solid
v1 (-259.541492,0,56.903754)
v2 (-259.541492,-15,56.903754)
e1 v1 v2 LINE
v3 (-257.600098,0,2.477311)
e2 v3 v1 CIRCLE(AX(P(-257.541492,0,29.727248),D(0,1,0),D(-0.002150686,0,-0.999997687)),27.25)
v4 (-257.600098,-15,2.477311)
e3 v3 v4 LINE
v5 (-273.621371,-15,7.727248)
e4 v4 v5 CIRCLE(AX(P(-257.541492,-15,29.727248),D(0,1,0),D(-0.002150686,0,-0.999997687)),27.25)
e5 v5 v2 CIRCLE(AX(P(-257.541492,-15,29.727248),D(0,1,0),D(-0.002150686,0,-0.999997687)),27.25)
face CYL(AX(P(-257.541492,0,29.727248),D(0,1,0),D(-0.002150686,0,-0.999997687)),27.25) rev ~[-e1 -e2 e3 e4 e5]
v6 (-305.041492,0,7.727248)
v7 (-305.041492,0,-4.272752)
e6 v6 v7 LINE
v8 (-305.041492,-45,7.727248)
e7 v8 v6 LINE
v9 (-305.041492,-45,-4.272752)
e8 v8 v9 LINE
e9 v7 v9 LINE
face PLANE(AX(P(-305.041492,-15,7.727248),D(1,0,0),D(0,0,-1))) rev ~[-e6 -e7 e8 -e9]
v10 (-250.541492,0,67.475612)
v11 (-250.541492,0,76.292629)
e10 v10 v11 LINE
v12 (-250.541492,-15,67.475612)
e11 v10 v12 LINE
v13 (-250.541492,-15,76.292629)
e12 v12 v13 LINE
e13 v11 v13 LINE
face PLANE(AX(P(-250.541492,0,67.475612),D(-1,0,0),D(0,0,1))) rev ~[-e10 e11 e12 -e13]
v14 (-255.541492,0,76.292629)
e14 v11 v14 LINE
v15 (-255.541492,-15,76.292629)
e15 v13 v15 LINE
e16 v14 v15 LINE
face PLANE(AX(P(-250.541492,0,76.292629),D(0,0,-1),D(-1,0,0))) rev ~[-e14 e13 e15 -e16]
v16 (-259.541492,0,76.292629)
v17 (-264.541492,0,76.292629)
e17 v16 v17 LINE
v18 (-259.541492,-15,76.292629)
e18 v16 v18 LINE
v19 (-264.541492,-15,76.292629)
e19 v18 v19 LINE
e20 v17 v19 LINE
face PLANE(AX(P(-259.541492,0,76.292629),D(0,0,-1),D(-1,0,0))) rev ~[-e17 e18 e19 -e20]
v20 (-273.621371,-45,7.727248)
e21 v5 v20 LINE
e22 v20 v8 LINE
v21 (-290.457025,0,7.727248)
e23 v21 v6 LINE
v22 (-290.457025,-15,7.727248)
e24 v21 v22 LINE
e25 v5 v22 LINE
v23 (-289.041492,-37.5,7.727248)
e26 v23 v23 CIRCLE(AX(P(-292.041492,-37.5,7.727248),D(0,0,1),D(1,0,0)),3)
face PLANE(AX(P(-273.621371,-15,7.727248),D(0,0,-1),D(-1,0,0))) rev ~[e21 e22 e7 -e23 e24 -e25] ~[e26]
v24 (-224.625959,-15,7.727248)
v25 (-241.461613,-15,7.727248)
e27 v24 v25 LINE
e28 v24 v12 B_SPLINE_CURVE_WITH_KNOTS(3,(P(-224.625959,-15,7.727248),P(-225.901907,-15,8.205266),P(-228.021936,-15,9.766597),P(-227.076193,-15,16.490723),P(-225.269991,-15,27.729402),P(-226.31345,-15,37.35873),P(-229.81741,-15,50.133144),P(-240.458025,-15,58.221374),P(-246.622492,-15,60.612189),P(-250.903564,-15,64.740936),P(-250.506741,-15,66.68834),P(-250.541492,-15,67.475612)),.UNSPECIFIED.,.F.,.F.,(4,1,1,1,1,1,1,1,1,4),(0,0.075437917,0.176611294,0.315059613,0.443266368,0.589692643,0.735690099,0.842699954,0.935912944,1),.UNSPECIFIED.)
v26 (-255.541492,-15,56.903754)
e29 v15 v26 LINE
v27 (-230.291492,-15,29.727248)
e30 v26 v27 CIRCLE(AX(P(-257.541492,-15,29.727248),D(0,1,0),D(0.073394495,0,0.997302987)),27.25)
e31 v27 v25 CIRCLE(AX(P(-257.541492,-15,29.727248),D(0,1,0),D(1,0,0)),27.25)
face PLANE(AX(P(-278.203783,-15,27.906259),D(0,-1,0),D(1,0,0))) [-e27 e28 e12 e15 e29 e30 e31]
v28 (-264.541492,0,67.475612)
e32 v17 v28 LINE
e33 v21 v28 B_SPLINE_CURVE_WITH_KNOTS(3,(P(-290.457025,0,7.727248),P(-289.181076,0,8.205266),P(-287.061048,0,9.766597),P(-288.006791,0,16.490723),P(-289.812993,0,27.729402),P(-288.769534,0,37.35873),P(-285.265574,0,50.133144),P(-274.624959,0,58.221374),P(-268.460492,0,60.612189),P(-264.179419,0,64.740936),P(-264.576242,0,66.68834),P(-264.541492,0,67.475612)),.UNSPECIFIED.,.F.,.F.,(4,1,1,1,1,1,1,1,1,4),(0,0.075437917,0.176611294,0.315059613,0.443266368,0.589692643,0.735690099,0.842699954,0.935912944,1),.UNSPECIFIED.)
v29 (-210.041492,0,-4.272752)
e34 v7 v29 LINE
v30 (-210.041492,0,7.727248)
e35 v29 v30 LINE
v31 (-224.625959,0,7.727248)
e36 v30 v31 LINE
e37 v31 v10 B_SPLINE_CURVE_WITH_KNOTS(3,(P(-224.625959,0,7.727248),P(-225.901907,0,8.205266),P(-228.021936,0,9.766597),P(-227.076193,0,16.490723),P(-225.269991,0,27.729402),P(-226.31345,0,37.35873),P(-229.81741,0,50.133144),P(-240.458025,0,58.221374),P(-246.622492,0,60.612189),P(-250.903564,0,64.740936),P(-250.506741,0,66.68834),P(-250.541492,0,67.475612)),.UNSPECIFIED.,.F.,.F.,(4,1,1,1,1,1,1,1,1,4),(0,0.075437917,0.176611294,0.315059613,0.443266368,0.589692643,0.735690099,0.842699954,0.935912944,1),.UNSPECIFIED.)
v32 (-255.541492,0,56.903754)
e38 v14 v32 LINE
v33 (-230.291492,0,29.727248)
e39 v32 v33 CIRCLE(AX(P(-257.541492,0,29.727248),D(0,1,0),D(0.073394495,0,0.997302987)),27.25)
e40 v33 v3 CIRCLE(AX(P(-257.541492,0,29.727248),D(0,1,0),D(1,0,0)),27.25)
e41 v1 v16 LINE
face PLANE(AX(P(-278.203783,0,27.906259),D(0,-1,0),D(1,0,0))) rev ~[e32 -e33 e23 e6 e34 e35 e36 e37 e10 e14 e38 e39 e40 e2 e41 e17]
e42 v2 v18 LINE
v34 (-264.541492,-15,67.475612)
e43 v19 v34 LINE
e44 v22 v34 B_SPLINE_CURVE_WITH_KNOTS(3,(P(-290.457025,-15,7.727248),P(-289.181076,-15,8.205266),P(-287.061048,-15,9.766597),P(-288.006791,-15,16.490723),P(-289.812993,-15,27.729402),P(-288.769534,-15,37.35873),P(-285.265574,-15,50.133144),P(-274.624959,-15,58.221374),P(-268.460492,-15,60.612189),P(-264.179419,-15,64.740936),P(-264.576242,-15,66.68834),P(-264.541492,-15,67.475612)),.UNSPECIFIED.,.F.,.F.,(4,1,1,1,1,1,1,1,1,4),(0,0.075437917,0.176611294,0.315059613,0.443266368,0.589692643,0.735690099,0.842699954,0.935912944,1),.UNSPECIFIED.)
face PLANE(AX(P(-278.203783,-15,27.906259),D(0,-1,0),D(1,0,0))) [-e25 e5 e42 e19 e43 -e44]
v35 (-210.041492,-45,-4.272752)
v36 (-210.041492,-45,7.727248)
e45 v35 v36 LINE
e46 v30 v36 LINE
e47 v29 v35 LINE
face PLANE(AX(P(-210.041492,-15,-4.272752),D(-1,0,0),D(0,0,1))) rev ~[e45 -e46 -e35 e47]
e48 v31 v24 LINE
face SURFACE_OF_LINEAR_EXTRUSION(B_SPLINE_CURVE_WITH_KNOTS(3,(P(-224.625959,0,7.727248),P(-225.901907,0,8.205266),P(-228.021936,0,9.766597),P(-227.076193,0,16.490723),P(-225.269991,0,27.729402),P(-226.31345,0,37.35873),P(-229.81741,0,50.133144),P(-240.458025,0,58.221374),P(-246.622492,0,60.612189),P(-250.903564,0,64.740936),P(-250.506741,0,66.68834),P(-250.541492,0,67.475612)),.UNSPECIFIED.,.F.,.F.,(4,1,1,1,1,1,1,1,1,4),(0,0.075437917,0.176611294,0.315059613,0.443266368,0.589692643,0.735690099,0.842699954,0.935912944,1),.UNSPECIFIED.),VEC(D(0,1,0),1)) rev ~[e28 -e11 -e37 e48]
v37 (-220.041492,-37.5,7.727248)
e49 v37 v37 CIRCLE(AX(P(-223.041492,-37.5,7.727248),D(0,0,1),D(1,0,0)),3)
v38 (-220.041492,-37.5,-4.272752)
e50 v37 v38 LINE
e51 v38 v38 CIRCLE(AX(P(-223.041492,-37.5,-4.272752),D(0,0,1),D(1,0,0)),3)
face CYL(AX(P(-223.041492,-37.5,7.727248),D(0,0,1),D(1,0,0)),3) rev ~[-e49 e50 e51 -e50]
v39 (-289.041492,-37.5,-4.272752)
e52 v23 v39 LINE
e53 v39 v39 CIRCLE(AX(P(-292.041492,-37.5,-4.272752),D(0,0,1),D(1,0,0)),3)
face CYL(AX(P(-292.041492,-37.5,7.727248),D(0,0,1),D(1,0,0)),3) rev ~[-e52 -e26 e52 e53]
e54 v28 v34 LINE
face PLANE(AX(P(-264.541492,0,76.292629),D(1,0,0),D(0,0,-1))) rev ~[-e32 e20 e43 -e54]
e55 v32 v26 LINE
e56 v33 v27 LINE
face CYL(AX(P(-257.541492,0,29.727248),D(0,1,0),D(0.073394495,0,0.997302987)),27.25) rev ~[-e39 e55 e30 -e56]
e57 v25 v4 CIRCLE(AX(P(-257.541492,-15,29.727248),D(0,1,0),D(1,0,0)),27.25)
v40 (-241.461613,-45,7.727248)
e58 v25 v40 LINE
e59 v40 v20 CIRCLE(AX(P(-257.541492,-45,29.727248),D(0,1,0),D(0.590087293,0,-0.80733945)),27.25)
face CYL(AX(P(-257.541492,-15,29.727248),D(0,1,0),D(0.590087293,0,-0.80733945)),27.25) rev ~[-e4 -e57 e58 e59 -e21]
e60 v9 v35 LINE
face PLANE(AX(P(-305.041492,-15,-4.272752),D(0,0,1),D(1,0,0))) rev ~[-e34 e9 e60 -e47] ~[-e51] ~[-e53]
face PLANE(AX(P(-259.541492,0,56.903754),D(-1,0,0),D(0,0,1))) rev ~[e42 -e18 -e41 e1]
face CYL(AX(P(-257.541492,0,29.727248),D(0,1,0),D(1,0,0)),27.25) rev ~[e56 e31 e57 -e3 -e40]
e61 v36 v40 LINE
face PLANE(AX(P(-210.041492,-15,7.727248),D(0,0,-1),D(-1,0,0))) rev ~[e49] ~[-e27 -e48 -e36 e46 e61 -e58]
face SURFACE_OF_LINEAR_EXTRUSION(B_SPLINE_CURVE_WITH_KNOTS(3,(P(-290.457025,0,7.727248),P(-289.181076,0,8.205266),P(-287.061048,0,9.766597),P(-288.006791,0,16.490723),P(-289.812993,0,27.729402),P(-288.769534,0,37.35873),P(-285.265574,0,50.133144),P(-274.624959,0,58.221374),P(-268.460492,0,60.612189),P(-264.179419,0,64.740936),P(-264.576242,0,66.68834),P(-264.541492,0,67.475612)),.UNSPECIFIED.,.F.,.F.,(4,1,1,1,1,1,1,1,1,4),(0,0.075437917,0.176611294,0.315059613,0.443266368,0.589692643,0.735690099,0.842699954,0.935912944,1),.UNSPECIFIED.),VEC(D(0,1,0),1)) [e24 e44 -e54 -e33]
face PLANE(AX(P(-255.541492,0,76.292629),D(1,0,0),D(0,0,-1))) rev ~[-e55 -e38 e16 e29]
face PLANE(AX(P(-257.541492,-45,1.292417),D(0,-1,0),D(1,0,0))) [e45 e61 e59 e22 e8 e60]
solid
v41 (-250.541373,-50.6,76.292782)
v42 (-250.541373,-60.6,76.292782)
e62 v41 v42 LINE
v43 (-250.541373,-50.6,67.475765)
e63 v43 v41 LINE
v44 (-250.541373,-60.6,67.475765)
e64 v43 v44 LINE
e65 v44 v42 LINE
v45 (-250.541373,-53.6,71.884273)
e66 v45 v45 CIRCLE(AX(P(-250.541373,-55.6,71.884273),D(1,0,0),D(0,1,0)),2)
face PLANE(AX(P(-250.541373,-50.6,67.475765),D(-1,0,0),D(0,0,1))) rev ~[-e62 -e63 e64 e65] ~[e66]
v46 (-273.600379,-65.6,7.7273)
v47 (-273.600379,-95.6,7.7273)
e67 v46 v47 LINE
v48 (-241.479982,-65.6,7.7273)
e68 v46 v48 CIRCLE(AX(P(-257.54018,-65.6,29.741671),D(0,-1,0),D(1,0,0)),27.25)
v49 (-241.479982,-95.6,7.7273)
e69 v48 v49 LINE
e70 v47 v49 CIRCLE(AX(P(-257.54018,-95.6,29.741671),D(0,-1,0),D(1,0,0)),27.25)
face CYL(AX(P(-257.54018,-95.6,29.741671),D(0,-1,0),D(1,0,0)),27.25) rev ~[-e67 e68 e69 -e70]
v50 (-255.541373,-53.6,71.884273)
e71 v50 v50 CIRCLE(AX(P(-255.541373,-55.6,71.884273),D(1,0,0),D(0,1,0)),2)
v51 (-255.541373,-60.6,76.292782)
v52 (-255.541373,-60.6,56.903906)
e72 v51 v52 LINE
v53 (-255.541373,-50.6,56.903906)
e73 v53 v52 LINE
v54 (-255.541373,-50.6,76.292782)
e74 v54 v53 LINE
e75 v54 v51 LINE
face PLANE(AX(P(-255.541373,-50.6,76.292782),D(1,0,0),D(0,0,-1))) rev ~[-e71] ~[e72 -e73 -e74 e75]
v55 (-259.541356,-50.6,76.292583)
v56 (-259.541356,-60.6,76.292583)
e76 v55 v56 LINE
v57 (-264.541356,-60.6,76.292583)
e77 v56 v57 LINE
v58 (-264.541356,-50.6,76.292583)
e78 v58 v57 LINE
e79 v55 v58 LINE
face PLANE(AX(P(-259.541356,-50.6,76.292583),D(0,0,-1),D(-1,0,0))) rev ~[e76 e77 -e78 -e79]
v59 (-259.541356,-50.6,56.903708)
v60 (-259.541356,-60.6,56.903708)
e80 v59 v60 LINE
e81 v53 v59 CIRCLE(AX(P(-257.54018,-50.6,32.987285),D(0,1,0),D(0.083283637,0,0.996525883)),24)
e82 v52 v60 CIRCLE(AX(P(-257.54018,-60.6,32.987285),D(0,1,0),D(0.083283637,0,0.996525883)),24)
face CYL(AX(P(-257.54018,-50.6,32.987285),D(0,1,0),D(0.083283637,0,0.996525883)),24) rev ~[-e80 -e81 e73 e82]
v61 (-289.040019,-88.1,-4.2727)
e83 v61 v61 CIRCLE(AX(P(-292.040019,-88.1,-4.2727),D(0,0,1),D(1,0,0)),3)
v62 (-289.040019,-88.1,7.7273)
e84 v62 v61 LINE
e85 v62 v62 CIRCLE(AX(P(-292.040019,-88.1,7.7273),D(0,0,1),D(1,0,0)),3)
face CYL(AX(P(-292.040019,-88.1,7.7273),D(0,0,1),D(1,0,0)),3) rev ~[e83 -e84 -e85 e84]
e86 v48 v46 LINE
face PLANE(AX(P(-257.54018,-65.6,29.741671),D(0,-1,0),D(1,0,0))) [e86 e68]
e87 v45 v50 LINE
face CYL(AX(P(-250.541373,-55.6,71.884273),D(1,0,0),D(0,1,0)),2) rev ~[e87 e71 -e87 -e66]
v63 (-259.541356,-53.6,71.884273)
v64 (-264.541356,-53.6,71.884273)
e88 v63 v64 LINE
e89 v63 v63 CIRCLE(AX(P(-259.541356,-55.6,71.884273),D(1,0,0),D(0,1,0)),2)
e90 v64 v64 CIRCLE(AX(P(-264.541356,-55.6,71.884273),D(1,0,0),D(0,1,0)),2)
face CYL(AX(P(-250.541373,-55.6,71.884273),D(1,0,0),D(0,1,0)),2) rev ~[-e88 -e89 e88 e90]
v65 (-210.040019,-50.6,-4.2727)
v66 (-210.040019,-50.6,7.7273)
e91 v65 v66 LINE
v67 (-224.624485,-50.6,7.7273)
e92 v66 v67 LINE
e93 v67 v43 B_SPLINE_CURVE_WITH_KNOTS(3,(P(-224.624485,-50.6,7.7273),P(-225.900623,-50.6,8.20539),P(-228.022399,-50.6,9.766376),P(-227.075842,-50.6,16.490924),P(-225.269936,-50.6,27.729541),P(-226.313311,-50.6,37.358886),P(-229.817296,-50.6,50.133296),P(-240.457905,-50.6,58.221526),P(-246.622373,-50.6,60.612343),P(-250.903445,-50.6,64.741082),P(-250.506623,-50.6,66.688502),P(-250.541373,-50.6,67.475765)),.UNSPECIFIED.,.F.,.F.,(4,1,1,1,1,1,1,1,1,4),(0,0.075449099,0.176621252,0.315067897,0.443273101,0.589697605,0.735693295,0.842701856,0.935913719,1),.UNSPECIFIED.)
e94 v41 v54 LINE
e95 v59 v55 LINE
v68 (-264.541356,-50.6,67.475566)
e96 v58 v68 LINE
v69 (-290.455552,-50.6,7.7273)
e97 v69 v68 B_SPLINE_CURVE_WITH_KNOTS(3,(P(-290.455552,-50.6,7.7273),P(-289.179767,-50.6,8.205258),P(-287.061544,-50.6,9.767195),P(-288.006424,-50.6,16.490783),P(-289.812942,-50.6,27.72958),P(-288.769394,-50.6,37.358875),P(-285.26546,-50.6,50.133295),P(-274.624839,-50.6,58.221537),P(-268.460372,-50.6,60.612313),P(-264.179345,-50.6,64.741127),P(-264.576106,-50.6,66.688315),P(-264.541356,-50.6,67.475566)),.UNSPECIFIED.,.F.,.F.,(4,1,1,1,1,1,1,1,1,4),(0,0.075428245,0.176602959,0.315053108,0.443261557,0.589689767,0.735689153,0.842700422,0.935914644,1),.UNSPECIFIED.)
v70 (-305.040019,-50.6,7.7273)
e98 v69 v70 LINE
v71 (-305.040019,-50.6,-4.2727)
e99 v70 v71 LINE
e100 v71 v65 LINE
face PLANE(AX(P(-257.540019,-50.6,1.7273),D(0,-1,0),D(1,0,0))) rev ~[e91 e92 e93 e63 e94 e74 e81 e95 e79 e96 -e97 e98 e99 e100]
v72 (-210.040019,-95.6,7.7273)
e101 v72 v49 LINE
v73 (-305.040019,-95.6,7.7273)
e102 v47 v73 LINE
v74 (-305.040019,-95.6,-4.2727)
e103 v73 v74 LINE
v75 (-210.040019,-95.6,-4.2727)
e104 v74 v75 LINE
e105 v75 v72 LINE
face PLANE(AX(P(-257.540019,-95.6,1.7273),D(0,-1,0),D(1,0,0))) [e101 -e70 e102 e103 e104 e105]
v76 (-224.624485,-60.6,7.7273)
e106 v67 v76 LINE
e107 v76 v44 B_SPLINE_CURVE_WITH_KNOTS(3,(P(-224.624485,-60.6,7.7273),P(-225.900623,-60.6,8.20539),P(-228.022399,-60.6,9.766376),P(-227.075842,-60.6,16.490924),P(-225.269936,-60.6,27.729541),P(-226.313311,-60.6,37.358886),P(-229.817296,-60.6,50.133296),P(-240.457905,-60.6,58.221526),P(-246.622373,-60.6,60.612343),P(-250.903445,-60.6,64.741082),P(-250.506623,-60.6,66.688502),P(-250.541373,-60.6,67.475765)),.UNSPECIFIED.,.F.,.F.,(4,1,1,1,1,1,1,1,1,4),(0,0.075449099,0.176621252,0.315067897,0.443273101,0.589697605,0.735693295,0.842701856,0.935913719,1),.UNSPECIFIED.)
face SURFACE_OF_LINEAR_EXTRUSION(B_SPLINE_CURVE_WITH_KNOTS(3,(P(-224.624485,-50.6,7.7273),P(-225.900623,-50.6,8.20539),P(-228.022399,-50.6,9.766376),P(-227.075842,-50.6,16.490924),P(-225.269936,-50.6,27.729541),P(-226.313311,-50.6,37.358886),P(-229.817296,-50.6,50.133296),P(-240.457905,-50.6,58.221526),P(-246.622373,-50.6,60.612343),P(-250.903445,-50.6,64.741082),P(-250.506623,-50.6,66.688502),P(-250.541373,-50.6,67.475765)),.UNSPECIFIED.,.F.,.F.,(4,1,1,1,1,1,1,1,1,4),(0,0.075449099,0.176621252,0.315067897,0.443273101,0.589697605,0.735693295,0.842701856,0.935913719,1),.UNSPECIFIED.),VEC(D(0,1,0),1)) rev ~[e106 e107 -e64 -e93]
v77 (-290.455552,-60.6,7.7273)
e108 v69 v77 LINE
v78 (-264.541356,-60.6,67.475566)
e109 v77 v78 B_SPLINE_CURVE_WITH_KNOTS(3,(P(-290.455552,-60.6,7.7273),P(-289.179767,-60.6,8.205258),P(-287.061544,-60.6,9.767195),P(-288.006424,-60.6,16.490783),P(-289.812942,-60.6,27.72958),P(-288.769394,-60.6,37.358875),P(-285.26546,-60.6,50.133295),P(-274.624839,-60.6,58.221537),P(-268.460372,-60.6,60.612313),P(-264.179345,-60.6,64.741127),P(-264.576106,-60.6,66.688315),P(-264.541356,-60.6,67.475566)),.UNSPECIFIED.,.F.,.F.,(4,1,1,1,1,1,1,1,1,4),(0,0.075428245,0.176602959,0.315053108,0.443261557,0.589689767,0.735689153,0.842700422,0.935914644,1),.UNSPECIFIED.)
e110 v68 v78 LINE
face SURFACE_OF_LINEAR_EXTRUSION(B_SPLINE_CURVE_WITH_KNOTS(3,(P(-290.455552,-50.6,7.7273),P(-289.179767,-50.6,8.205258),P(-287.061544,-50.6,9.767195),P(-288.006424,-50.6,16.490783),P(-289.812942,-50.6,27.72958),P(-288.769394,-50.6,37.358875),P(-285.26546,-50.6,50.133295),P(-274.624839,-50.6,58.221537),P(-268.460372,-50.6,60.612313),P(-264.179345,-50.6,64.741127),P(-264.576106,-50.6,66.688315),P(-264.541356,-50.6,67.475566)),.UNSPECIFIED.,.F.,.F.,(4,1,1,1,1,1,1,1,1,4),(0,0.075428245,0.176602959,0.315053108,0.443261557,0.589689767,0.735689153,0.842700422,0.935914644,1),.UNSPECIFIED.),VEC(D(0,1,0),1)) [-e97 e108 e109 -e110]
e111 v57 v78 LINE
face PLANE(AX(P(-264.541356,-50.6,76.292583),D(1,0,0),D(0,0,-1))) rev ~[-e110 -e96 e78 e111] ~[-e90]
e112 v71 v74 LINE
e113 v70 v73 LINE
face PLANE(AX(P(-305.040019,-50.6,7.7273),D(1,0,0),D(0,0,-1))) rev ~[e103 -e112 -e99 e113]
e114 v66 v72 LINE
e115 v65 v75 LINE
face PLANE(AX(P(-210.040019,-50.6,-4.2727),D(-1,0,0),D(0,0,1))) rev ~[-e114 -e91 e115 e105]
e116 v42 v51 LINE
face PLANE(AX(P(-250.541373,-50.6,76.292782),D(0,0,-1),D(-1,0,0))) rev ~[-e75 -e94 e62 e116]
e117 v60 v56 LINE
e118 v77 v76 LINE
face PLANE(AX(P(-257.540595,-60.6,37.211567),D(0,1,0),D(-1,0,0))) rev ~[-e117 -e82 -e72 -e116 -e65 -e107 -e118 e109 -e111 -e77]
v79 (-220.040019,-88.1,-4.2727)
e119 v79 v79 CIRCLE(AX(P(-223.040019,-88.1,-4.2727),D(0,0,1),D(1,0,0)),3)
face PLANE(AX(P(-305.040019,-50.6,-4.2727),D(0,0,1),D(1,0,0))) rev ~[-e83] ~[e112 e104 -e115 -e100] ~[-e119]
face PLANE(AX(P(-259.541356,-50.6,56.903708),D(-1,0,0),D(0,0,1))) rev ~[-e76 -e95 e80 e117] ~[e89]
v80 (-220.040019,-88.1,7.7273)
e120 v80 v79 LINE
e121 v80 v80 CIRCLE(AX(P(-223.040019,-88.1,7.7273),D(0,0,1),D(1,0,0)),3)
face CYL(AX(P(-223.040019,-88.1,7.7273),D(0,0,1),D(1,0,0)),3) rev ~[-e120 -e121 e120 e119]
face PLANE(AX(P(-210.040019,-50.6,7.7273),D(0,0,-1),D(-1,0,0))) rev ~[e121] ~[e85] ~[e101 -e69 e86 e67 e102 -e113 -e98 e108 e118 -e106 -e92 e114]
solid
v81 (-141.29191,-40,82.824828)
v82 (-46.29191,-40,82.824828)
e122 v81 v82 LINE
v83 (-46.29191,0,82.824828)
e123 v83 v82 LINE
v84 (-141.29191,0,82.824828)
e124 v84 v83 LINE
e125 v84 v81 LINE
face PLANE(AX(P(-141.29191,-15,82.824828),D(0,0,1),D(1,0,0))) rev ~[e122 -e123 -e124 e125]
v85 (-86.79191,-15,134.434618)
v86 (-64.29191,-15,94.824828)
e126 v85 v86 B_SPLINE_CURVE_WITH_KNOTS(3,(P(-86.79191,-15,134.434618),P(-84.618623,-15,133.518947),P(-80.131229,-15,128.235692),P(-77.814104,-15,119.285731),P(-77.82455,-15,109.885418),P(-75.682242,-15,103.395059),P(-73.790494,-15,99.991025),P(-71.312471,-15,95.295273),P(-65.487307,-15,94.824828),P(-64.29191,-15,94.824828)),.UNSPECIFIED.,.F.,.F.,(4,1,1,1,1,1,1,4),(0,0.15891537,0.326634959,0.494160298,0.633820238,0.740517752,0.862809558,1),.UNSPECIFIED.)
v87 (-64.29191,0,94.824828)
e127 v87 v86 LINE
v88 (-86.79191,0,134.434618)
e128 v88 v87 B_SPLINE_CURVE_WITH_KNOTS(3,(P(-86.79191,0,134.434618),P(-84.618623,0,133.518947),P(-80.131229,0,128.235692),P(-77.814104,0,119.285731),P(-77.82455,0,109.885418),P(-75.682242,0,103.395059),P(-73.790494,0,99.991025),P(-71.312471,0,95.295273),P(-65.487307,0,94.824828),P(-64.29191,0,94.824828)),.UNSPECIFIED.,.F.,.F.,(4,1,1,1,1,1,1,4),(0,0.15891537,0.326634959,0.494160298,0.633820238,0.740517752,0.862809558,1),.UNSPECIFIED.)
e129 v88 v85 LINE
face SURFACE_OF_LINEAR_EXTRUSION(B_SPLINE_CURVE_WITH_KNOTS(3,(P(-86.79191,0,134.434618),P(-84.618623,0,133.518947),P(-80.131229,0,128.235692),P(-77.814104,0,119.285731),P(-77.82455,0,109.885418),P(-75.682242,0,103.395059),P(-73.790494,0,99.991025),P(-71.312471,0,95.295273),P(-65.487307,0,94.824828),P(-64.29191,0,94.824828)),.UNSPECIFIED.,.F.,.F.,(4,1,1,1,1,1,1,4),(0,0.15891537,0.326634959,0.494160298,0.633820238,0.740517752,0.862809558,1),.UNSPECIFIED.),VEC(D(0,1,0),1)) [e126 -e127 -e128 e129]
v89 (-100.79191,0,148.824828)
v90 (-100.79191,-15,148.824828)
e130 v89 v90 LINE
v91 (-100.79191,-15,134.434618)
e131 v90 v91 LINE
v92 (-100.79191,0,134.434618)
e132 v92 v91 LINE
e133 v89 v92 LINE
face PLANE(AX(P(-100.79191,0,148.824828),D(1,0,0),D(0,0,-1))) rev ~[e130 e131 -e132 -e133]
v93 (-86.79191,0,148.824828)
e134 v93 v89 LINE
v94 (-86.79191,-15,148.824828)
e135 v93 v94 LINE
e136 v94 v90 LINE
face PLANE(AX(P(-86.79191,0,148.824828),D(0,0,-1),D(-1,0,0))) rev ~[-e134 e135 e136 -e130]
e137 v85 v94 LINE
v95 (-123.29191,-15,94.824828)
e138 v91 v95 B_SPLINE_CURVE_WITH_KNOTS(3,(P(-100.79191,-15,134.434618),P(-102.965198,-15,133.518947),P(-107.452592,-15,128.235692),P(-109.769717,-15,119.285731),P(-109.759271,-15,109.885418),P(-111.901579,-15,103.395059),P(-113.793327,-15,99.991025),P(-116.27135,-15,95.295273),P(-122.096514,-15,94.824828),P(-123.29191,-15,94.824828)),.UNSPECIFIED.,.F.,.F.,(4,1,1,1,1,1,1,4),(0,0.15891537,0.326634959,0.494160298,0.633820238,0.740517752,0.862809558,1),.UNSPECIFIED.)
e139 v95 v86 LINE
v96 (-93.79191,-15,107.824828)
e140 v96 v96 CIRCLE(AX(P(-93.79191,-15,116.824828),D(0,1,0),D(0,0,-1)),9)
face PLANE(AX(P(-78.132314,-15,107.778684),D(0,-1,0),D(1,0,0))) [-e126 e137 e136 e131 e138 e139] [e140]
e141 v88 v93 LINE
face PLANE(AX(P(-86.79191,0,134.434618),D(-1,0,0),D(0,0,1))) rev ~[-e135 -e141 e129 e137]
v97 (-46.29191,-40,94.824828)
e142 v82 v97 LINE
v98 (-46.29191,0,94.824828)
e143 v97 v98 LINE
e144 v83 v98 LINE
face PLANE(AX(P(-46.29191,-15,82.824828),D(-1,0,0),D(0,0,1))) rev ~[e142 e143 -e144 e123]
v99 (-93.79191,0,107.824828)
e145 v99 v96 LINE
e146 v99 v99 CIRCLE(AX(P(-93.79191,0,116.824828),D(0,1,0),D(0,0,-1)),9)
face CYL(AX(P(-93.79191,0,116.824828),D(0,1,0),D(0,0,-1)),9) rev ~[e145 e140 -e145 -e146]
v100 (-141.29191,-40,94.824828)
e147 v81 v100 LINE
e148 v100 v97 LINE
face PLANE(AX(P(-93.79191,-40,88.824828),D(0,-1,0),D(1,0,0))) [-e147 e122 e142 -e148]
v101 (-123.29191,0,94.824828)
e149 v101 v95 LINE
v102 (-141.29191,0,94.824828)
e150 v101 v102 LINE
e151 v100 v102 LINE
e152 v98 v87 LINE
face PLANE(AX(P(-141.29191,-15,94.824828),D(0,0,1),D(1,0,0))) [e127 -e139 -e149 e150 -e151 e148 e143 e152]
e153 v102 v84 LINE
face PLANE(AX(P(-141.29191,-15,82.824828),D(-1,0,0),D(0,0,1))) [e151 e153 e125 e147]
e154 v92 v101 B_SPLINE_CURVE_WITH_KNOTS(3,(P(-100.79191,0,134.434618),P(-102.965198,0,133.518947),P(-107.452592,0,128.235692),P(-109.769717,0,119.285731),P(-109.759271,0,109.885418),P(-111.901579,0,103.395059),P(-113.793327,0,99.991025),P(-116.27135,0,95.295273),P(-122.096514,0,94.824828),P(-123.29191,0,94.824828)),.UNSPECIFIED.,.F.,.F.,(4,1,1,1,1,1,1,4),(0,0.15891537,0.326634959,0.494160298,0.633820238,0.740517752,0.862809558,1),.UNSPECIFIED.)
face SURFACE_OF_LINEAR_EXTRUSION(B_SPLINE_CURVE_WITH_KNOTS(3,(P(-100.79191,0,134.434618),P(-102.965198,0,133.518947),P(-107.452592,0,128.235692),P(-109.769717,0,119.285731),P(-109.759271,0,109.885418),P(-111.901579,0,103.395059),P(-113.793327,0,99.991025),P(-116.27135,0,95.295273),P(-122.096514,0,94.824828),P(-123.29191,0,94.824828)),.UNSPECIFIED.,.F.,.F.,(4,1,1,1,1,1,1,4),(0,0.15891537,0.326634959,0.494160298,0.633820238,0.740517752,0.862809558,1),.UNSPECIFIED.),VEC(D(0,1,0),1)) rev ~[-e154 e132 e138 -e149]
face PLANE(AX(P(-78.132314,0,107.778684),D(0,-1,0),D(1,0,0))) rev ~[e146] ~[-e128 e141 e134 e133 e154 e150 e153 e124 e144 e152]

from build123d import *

# Parameters (mm, degrees)
F1_DEPTH  = 15
F2_W      = 95
F2_H      = 12
F3_DEPTH  = 25
F5_DEPTH  = 30
F6_R      = 3
F7_DEPTH  = 25
F10_DEPTH = 10
F11_DEPTH = 45
F12_R     = 3
F13_DEPTH = 25
F14_R     = 2
F15_DEPTH = 25
F16_R     = 27.25
F17_DEPTH = 30


with BuildPart() as f1:
    # F0 (on Front) → F1 (new body)
    with BuildSketch(Plane.XZ):
        with BuildLine():
            Line((-86.7919104606, 148.8248279665), (-93.7919104606, 148.8248279665))
            Line((-93.7919104606, 148.8248279665), (-93.7919104606, 125.8248279665))
            ThreePointArc((-93.7919104606, 125.8248279665), (-84.7919104606, 116.8248279665), (-93.7919104606, 107.8248279665))
            Line((-93.7919104606, 107.8248279665), (-93.7919104606, 82.8248279665))
            Line((-93.7919104606, 82.8248279665), (-46.2919104606, 82.8248279665))
            Line((-46.2919104606, 82.8248279665), (-46.2919104606, 94.8248279665))
            Line((-46.2919104606, 94.8248279665), (-64.2919104606, 94.8248279665))
            add(Edge.make_bspline(
                [(-86.7919104606, 134.4346182567), (-84.6186229965, 133.5189465859), (-80.1312288241, 128.2356920468), (-77.8141041543, 119.2857314457), (-77.824550096, 109.8854181171), (-75.6822417412, 103.3950594754), (-73.7904940331, 99.9910254255), (-71.3124707915, 95.2952731617), (-65.4873071613, 94.8248279665), (-64.2919104606, 94.8248279665)],
                knots=[0, 0, 0, 0, 0.1589153696, 0.3266349591, 0.4941602985, 0.6338202377, 0.7405177517, 0.8628095578, 1, 1, 1, 1], degree=3))
            Line((-86.7919104606, 134.4346182567), (-86.7919104606, 148.8248279665))
        make_face()
        with BuildLine():
            Line((-93.7919104606, 125.8248279665), (-93.7919104606, 148.8248279665))
            Line((-93.7919104606, 148.8248279665), (-100.7919104606, 148.8248279665))
            Line((-100.7919104606, 148.8248279665), (-100.7919104606, 134.4346182567))
            add(Edge.make_bspline(
                [(-100.7919104606, 134.4346182567), (-102.9651979248, 133.5189465859), (-107.4525920971, 128.2356920468), (-109.7697167669, 119.2857314457), (-109.7592708252, 109.8854181171), (-111.90157918, 103.3950594754), (-113.7933268881, 99.9910254255), (-116.2713501297, 95.2952731617), (-122.09651376, 94.8248279665), (-123.2919104606, 94.8248279665)],
                knots=[0, 0, 0, 0, 0.1589153696, 0.3266349591, 0.4941602985, 0.6338202377, 0.7405177517, 0.8628095578, 1, 1, 1, 1], degree=3))
            Line((-123.2919104606, 94.8248279665), (-141.2919104606, 94.8248279665))
            Line((-141.2919104606, 94.8248279665), (-141.2919104606, 82.8248279665))
            Line((-141.2919104606, 82.8248279665), (-93.7919104606, 82.8248279665))
            Line((-93.7919104606, 82.8248279665), (-93.7919104606, 107.8248279665))
            ThreePointArc((-93.7919104606, 107.8248279665), (-102.7919104606, 116.8248279665), (-93.7919104606, 125.8248279665))
        make_face()
    extrude(amount=F1_DEPTH)

    # F2 (on face) → F3 (join)
    with BuildSketch(Plane.XZ.offset(15)):
        with Locations((-93.7919104606, 88.8248279665)):
            Rectangle(F2_W, F2_H)
    extrude(amount=F3_DEPTH)


with BuildPart() as f1b:
    # F0 (on Front) → F1, piece 2 (new body)
    with BuildSketch(Plane.XZ):
        with BuildLine():
            Line((-257.6000979949, -4.2727524898), (-257.6000979949, 2.477310532))
            ThreePointArc((-257.6000979949, 2.477310532), (-284.7741725177, 28.7558565069), (-259.5414917918, 56.9037539082))
            Line((-259.5414917918, 56.9037539082), (-259.5414917918, 76.2926292618))
            Line((-259.5414917918, 76.2926292618), (-264.5414917918, 76.2926292618))
            Line((-264.5414917918, 76.2926292618), (-264.5414917918, 67.4756121834))
            add(Edge.make_bspline(
                [(-290.4570249768, 7.7272475102), (-289.1810761401, 8.2052664847), (-287.0610478005, 9.7665971379), (-288.0067907257, 16.4907230197), (-289.8129929509, 27.7294023947), (-288.7695339108, 37.3587296696), (-285.2655736169, 50.133144334), (-274.6249586166, 58.2213743066), (-268.4604919275, 60.6121886454), (-264.1794193992, 64.7409361805), (-264.5762423932, 66.6883398304), (-264.5414917918, 67.4756121834)],
                knots=[0, 0, 0, 0, 0.0754379169, 0.1766112941, 0.3150596134, 0.4432663677, 0.5896926426, 0.7356900989, 0.8426999539, 0.935912944, 1, 1, 1, 1], degree=3))
            Line((-290.4570249768, 7.7272475102), (-305.0414917918, 7.7272475102))
            Line((-305.0414917918, 7.7272475102), (-305.0414917918, -4.2727524898))
            Line((-305.0414917918, -4.2727524898), (-257.6000979949, -4.2727524898))
        make_face()
        with BuildLine():
            ThreePointArc((-255.5414917918, 56.9037539082), (-237.5782443105, 48.2753269256), (-230.2914917918, 29.7272475102))
            ThreePointArc((-230.2914917918, 29.7272475102), (-238.2935635791, 10.4378784299), (-257.6000979949, 2.477310532))
            Line((-257.6000979949, 2.477310532), (-257.6000979949, -4.2727524898))
            Line((-257.6000979949, -4.2727524898), (-257.4828855888, -4.2727524898))
            Line((-257.4828855888, -4.2727524898), (-210.0414917918, -4.2727524898))
            Line((-210.0414917918, -4.2727524898), (-210.0414917918, 7.7272475102))
            Line((-210.0414917918, 7.7272475102), (-224.6259586068, 7.7272475102))
            add(Edge.make_bspline(
                [(-224.6259586068, 7.7272475102), (-225.9019074436, 8.2052664847), (-228.0219357831, 9.7665971379), (-227.076192858, 16.4907230197), (-225.2699906328, 27.7294023947), (-226.3134496728, 37.3587296696), (-229.8174099667, 50.133144334), (-240.458024967, 58.2213743066), (-246.6224916561, 60.6121886454), (-250.9035641845, 64.7409361805), (-250.5067411904, 66.6883398304), (-250.5414917918, 67.4756121834)],
                knots=[0, 0, 0, 0, 0.0754379169, 0.1766112941, 0.3150596134, 0.4432663677, 0.5896926426, 0.7356900989, 0.8426999539, 0.935912944, 1, 1, 1, 1], degree=3))
            Line((-250.5414917918, 67.4756121834), (-250.5414917918, 76.2926292618))
            Line((-250.5414917918, 76.2926292618), (-255.5414917918, 76.2926292618))
            Line((-255.5414917918, 76.2926292618), (-255.5414917918, 56.9037539082))
        make_face()
    extrude(amount=F1_DEPTH)

    # F4 (on face) → F5 (join)
    with BuildSketch(Plane.XZ.offset(15)):
        with BuildLine():
            Line((-305.0414917918, 7.7272475102), (-305.0414917918, -4.2727524898))
            Line((-305.0414917918, -4.2727524898), (-210.0414917918, -4.2727524898))
            Line((-210.0414917918, -4.2727524898), (-210.0414917918, 7.7272475102))
            Line((-210.0414917918, 7.7272475102), (-224.6259586068, 7.7272475102))
            Line((-224.6259586068, 7.7272475102), (-241.4616130609, 7.7272475102))
            ThreePointArc((-241.4616130609, 7.7272475102), (-257.5414917918, 2.4772475102), (-273.6213705227, 7.7272475102))
            Line((-273.6213705227, 7.7272475102), (-290.4570249768, 7.7272475102))
            Line((-290.4570249768, 7.7272475102), (-305.0414917918, 7.7272475102))
        make_face()
    extrude(amount=F5_DEPTH)

    # F6 (on face) → F7 (cut)
    with BuildSketch(Plane.XY.offset(7.7272475102)):
        with Locations((-292.0414917918, -37.5)):
            Circle(F6_R)
        with Locations((-223.0414917918, -37.5)):
            Circle(F6_R)
    extrude(amount=-F7_DEPTH, mode=Mode.SUBTRACT)


with BuildPart() as f10:
    # F9 (on offset) → F10 (new body)
    with BuildSketch(Plane.XZ.offset(50.6)):
        with BuildLine():
            add(Edge.make_bspline(
                [(-290.455551815, 7.7273002081), (-289.1797665747, 8.2052578931), (-287.0615437343, 9.7671952257), (-288.006424145, 16.4907827685), (-289.8129423825, 27.7295801069), (-288.7693943306, 37.3588750622), (-285.2654603329, 50.1332954807), (-274.624838932, 58.2215372753), (-268.4603720109, 60.612313356), (-264.179344769, 64.741126533), (-264.5761058805, 66.6883149459), (-264.541356201, 67.4755664124)],
                knots=[0, 0, 0, 0, 0.0754282446, 0.1766029589, 0.3150531081, 0.4432615569, 0.589689767, 0.7356891528, 0.8427004222, 0.9359146443, 1, 1, 1, 1], degree=3))
            Line((-290.455551815, 7.7273002081), (-224.624485445, 7.7273002081))
            add(Edge.make_bspline(
                [(-224.624485445, 7.7273002081), (-225.900623414, 8.2053900387), (-228.0223985318, 9.7663759145), (-227.0758422102, 16.4909243477), (-225.2699356677, 27.7295411797), (-226.3133113838, 37.3588860018), (-229.8172964545, 50.1332957727), (-240.4579048632, 58.2215259245), (-246.6223729542, 60.6123432304), (-250.903444844, 64.7410820148), (-250.5066225949, 66.6885016716), (-250.541372776, 67.475764503)],
                knots=[0, 0, 0, 0, 0.0754490989, 0.1766212525, 0.3150678974, 0.4432731011, 0.5896976051, 0.7356932955, 0.8427018564, 0.9359137191, 1, 1, 1, 1], degree=3))
            Line((-250.541372776, 67.475764503), (-250.541372776, 76.2927815814))
            Line((-250.541372776, 76.2927815814), (-255.541372776, 76.2927815814))
            Line((-255.541372776, 76.2927815814), (-255.541372776, 56.9039062278))
            ThreePointArc((-255.541372776, 56.9039062278), (-257.538991525, 8.9872850622), (-259.541356201, 56.9037081371))
            Line((-259.541356201, 56.9037081371), (-259.541356201, 76.2925834908))
            Line((-259.541356201, 76.2925834908), (-264.541356201, 76.2925834908))
            Line((-264.541356201, 76.2925834908), (-264.541356201, 67.4755664124))
        make_face()
    extrude(amount=F10_DEPTH)

    # F9 (on offset) → F11 (join)
    with BuildSketch(Plane.XZ.offset(50.6)):
        Polygon((-224.624485445, 7.7273002081), (-290.455551815, 7.7273002081), (-305.04001863, 7.7273002081), (-305.04001863, -4.2726997919), (-257.5986248331, -4.2726997919), (-257.5401800738, -4.2726997919), (-210.04001863, -4.2726997919), (-210.04001863, 7.7273002081), align=None)
    extrude(amount=F11_DEPTH)

    # F12 (on face) → F13 (cut)
    with BuildSketch(Plane.XY.offset(7.7273002081)):
        with Locations((-292.04001863, -88.1)):
            Circle(F12_R)
        with Locations((-223.04001863, -88.1)):
            Circle(F12_R)
    extrude(amount=-F13_DEPTH, mode=Mode.SUBTRACT)

    # F14 (on face) → F15 (cut)
    with BuildSketch(Plane.YZ.offset(-250.541372776)):
        with Locations((-55.6, 71.8842730422)):
            Circle(F14_R)
    extrude(amount=-F15_DEPTH, mode=Mode.SUBTRACT)

    # F16 (on face) → F17 (cut)
    with BuildSketch(Plane.XZ.offset(95.6)):
        with Locations((-257.5401800738, 29.7416710442)):
            Circle(F16_R)
    extrude(amount=-F17_DEPTH, mode=Mode.SUBTRACT)


solid = Compound([f1.part, f1b.part, f10.part])
